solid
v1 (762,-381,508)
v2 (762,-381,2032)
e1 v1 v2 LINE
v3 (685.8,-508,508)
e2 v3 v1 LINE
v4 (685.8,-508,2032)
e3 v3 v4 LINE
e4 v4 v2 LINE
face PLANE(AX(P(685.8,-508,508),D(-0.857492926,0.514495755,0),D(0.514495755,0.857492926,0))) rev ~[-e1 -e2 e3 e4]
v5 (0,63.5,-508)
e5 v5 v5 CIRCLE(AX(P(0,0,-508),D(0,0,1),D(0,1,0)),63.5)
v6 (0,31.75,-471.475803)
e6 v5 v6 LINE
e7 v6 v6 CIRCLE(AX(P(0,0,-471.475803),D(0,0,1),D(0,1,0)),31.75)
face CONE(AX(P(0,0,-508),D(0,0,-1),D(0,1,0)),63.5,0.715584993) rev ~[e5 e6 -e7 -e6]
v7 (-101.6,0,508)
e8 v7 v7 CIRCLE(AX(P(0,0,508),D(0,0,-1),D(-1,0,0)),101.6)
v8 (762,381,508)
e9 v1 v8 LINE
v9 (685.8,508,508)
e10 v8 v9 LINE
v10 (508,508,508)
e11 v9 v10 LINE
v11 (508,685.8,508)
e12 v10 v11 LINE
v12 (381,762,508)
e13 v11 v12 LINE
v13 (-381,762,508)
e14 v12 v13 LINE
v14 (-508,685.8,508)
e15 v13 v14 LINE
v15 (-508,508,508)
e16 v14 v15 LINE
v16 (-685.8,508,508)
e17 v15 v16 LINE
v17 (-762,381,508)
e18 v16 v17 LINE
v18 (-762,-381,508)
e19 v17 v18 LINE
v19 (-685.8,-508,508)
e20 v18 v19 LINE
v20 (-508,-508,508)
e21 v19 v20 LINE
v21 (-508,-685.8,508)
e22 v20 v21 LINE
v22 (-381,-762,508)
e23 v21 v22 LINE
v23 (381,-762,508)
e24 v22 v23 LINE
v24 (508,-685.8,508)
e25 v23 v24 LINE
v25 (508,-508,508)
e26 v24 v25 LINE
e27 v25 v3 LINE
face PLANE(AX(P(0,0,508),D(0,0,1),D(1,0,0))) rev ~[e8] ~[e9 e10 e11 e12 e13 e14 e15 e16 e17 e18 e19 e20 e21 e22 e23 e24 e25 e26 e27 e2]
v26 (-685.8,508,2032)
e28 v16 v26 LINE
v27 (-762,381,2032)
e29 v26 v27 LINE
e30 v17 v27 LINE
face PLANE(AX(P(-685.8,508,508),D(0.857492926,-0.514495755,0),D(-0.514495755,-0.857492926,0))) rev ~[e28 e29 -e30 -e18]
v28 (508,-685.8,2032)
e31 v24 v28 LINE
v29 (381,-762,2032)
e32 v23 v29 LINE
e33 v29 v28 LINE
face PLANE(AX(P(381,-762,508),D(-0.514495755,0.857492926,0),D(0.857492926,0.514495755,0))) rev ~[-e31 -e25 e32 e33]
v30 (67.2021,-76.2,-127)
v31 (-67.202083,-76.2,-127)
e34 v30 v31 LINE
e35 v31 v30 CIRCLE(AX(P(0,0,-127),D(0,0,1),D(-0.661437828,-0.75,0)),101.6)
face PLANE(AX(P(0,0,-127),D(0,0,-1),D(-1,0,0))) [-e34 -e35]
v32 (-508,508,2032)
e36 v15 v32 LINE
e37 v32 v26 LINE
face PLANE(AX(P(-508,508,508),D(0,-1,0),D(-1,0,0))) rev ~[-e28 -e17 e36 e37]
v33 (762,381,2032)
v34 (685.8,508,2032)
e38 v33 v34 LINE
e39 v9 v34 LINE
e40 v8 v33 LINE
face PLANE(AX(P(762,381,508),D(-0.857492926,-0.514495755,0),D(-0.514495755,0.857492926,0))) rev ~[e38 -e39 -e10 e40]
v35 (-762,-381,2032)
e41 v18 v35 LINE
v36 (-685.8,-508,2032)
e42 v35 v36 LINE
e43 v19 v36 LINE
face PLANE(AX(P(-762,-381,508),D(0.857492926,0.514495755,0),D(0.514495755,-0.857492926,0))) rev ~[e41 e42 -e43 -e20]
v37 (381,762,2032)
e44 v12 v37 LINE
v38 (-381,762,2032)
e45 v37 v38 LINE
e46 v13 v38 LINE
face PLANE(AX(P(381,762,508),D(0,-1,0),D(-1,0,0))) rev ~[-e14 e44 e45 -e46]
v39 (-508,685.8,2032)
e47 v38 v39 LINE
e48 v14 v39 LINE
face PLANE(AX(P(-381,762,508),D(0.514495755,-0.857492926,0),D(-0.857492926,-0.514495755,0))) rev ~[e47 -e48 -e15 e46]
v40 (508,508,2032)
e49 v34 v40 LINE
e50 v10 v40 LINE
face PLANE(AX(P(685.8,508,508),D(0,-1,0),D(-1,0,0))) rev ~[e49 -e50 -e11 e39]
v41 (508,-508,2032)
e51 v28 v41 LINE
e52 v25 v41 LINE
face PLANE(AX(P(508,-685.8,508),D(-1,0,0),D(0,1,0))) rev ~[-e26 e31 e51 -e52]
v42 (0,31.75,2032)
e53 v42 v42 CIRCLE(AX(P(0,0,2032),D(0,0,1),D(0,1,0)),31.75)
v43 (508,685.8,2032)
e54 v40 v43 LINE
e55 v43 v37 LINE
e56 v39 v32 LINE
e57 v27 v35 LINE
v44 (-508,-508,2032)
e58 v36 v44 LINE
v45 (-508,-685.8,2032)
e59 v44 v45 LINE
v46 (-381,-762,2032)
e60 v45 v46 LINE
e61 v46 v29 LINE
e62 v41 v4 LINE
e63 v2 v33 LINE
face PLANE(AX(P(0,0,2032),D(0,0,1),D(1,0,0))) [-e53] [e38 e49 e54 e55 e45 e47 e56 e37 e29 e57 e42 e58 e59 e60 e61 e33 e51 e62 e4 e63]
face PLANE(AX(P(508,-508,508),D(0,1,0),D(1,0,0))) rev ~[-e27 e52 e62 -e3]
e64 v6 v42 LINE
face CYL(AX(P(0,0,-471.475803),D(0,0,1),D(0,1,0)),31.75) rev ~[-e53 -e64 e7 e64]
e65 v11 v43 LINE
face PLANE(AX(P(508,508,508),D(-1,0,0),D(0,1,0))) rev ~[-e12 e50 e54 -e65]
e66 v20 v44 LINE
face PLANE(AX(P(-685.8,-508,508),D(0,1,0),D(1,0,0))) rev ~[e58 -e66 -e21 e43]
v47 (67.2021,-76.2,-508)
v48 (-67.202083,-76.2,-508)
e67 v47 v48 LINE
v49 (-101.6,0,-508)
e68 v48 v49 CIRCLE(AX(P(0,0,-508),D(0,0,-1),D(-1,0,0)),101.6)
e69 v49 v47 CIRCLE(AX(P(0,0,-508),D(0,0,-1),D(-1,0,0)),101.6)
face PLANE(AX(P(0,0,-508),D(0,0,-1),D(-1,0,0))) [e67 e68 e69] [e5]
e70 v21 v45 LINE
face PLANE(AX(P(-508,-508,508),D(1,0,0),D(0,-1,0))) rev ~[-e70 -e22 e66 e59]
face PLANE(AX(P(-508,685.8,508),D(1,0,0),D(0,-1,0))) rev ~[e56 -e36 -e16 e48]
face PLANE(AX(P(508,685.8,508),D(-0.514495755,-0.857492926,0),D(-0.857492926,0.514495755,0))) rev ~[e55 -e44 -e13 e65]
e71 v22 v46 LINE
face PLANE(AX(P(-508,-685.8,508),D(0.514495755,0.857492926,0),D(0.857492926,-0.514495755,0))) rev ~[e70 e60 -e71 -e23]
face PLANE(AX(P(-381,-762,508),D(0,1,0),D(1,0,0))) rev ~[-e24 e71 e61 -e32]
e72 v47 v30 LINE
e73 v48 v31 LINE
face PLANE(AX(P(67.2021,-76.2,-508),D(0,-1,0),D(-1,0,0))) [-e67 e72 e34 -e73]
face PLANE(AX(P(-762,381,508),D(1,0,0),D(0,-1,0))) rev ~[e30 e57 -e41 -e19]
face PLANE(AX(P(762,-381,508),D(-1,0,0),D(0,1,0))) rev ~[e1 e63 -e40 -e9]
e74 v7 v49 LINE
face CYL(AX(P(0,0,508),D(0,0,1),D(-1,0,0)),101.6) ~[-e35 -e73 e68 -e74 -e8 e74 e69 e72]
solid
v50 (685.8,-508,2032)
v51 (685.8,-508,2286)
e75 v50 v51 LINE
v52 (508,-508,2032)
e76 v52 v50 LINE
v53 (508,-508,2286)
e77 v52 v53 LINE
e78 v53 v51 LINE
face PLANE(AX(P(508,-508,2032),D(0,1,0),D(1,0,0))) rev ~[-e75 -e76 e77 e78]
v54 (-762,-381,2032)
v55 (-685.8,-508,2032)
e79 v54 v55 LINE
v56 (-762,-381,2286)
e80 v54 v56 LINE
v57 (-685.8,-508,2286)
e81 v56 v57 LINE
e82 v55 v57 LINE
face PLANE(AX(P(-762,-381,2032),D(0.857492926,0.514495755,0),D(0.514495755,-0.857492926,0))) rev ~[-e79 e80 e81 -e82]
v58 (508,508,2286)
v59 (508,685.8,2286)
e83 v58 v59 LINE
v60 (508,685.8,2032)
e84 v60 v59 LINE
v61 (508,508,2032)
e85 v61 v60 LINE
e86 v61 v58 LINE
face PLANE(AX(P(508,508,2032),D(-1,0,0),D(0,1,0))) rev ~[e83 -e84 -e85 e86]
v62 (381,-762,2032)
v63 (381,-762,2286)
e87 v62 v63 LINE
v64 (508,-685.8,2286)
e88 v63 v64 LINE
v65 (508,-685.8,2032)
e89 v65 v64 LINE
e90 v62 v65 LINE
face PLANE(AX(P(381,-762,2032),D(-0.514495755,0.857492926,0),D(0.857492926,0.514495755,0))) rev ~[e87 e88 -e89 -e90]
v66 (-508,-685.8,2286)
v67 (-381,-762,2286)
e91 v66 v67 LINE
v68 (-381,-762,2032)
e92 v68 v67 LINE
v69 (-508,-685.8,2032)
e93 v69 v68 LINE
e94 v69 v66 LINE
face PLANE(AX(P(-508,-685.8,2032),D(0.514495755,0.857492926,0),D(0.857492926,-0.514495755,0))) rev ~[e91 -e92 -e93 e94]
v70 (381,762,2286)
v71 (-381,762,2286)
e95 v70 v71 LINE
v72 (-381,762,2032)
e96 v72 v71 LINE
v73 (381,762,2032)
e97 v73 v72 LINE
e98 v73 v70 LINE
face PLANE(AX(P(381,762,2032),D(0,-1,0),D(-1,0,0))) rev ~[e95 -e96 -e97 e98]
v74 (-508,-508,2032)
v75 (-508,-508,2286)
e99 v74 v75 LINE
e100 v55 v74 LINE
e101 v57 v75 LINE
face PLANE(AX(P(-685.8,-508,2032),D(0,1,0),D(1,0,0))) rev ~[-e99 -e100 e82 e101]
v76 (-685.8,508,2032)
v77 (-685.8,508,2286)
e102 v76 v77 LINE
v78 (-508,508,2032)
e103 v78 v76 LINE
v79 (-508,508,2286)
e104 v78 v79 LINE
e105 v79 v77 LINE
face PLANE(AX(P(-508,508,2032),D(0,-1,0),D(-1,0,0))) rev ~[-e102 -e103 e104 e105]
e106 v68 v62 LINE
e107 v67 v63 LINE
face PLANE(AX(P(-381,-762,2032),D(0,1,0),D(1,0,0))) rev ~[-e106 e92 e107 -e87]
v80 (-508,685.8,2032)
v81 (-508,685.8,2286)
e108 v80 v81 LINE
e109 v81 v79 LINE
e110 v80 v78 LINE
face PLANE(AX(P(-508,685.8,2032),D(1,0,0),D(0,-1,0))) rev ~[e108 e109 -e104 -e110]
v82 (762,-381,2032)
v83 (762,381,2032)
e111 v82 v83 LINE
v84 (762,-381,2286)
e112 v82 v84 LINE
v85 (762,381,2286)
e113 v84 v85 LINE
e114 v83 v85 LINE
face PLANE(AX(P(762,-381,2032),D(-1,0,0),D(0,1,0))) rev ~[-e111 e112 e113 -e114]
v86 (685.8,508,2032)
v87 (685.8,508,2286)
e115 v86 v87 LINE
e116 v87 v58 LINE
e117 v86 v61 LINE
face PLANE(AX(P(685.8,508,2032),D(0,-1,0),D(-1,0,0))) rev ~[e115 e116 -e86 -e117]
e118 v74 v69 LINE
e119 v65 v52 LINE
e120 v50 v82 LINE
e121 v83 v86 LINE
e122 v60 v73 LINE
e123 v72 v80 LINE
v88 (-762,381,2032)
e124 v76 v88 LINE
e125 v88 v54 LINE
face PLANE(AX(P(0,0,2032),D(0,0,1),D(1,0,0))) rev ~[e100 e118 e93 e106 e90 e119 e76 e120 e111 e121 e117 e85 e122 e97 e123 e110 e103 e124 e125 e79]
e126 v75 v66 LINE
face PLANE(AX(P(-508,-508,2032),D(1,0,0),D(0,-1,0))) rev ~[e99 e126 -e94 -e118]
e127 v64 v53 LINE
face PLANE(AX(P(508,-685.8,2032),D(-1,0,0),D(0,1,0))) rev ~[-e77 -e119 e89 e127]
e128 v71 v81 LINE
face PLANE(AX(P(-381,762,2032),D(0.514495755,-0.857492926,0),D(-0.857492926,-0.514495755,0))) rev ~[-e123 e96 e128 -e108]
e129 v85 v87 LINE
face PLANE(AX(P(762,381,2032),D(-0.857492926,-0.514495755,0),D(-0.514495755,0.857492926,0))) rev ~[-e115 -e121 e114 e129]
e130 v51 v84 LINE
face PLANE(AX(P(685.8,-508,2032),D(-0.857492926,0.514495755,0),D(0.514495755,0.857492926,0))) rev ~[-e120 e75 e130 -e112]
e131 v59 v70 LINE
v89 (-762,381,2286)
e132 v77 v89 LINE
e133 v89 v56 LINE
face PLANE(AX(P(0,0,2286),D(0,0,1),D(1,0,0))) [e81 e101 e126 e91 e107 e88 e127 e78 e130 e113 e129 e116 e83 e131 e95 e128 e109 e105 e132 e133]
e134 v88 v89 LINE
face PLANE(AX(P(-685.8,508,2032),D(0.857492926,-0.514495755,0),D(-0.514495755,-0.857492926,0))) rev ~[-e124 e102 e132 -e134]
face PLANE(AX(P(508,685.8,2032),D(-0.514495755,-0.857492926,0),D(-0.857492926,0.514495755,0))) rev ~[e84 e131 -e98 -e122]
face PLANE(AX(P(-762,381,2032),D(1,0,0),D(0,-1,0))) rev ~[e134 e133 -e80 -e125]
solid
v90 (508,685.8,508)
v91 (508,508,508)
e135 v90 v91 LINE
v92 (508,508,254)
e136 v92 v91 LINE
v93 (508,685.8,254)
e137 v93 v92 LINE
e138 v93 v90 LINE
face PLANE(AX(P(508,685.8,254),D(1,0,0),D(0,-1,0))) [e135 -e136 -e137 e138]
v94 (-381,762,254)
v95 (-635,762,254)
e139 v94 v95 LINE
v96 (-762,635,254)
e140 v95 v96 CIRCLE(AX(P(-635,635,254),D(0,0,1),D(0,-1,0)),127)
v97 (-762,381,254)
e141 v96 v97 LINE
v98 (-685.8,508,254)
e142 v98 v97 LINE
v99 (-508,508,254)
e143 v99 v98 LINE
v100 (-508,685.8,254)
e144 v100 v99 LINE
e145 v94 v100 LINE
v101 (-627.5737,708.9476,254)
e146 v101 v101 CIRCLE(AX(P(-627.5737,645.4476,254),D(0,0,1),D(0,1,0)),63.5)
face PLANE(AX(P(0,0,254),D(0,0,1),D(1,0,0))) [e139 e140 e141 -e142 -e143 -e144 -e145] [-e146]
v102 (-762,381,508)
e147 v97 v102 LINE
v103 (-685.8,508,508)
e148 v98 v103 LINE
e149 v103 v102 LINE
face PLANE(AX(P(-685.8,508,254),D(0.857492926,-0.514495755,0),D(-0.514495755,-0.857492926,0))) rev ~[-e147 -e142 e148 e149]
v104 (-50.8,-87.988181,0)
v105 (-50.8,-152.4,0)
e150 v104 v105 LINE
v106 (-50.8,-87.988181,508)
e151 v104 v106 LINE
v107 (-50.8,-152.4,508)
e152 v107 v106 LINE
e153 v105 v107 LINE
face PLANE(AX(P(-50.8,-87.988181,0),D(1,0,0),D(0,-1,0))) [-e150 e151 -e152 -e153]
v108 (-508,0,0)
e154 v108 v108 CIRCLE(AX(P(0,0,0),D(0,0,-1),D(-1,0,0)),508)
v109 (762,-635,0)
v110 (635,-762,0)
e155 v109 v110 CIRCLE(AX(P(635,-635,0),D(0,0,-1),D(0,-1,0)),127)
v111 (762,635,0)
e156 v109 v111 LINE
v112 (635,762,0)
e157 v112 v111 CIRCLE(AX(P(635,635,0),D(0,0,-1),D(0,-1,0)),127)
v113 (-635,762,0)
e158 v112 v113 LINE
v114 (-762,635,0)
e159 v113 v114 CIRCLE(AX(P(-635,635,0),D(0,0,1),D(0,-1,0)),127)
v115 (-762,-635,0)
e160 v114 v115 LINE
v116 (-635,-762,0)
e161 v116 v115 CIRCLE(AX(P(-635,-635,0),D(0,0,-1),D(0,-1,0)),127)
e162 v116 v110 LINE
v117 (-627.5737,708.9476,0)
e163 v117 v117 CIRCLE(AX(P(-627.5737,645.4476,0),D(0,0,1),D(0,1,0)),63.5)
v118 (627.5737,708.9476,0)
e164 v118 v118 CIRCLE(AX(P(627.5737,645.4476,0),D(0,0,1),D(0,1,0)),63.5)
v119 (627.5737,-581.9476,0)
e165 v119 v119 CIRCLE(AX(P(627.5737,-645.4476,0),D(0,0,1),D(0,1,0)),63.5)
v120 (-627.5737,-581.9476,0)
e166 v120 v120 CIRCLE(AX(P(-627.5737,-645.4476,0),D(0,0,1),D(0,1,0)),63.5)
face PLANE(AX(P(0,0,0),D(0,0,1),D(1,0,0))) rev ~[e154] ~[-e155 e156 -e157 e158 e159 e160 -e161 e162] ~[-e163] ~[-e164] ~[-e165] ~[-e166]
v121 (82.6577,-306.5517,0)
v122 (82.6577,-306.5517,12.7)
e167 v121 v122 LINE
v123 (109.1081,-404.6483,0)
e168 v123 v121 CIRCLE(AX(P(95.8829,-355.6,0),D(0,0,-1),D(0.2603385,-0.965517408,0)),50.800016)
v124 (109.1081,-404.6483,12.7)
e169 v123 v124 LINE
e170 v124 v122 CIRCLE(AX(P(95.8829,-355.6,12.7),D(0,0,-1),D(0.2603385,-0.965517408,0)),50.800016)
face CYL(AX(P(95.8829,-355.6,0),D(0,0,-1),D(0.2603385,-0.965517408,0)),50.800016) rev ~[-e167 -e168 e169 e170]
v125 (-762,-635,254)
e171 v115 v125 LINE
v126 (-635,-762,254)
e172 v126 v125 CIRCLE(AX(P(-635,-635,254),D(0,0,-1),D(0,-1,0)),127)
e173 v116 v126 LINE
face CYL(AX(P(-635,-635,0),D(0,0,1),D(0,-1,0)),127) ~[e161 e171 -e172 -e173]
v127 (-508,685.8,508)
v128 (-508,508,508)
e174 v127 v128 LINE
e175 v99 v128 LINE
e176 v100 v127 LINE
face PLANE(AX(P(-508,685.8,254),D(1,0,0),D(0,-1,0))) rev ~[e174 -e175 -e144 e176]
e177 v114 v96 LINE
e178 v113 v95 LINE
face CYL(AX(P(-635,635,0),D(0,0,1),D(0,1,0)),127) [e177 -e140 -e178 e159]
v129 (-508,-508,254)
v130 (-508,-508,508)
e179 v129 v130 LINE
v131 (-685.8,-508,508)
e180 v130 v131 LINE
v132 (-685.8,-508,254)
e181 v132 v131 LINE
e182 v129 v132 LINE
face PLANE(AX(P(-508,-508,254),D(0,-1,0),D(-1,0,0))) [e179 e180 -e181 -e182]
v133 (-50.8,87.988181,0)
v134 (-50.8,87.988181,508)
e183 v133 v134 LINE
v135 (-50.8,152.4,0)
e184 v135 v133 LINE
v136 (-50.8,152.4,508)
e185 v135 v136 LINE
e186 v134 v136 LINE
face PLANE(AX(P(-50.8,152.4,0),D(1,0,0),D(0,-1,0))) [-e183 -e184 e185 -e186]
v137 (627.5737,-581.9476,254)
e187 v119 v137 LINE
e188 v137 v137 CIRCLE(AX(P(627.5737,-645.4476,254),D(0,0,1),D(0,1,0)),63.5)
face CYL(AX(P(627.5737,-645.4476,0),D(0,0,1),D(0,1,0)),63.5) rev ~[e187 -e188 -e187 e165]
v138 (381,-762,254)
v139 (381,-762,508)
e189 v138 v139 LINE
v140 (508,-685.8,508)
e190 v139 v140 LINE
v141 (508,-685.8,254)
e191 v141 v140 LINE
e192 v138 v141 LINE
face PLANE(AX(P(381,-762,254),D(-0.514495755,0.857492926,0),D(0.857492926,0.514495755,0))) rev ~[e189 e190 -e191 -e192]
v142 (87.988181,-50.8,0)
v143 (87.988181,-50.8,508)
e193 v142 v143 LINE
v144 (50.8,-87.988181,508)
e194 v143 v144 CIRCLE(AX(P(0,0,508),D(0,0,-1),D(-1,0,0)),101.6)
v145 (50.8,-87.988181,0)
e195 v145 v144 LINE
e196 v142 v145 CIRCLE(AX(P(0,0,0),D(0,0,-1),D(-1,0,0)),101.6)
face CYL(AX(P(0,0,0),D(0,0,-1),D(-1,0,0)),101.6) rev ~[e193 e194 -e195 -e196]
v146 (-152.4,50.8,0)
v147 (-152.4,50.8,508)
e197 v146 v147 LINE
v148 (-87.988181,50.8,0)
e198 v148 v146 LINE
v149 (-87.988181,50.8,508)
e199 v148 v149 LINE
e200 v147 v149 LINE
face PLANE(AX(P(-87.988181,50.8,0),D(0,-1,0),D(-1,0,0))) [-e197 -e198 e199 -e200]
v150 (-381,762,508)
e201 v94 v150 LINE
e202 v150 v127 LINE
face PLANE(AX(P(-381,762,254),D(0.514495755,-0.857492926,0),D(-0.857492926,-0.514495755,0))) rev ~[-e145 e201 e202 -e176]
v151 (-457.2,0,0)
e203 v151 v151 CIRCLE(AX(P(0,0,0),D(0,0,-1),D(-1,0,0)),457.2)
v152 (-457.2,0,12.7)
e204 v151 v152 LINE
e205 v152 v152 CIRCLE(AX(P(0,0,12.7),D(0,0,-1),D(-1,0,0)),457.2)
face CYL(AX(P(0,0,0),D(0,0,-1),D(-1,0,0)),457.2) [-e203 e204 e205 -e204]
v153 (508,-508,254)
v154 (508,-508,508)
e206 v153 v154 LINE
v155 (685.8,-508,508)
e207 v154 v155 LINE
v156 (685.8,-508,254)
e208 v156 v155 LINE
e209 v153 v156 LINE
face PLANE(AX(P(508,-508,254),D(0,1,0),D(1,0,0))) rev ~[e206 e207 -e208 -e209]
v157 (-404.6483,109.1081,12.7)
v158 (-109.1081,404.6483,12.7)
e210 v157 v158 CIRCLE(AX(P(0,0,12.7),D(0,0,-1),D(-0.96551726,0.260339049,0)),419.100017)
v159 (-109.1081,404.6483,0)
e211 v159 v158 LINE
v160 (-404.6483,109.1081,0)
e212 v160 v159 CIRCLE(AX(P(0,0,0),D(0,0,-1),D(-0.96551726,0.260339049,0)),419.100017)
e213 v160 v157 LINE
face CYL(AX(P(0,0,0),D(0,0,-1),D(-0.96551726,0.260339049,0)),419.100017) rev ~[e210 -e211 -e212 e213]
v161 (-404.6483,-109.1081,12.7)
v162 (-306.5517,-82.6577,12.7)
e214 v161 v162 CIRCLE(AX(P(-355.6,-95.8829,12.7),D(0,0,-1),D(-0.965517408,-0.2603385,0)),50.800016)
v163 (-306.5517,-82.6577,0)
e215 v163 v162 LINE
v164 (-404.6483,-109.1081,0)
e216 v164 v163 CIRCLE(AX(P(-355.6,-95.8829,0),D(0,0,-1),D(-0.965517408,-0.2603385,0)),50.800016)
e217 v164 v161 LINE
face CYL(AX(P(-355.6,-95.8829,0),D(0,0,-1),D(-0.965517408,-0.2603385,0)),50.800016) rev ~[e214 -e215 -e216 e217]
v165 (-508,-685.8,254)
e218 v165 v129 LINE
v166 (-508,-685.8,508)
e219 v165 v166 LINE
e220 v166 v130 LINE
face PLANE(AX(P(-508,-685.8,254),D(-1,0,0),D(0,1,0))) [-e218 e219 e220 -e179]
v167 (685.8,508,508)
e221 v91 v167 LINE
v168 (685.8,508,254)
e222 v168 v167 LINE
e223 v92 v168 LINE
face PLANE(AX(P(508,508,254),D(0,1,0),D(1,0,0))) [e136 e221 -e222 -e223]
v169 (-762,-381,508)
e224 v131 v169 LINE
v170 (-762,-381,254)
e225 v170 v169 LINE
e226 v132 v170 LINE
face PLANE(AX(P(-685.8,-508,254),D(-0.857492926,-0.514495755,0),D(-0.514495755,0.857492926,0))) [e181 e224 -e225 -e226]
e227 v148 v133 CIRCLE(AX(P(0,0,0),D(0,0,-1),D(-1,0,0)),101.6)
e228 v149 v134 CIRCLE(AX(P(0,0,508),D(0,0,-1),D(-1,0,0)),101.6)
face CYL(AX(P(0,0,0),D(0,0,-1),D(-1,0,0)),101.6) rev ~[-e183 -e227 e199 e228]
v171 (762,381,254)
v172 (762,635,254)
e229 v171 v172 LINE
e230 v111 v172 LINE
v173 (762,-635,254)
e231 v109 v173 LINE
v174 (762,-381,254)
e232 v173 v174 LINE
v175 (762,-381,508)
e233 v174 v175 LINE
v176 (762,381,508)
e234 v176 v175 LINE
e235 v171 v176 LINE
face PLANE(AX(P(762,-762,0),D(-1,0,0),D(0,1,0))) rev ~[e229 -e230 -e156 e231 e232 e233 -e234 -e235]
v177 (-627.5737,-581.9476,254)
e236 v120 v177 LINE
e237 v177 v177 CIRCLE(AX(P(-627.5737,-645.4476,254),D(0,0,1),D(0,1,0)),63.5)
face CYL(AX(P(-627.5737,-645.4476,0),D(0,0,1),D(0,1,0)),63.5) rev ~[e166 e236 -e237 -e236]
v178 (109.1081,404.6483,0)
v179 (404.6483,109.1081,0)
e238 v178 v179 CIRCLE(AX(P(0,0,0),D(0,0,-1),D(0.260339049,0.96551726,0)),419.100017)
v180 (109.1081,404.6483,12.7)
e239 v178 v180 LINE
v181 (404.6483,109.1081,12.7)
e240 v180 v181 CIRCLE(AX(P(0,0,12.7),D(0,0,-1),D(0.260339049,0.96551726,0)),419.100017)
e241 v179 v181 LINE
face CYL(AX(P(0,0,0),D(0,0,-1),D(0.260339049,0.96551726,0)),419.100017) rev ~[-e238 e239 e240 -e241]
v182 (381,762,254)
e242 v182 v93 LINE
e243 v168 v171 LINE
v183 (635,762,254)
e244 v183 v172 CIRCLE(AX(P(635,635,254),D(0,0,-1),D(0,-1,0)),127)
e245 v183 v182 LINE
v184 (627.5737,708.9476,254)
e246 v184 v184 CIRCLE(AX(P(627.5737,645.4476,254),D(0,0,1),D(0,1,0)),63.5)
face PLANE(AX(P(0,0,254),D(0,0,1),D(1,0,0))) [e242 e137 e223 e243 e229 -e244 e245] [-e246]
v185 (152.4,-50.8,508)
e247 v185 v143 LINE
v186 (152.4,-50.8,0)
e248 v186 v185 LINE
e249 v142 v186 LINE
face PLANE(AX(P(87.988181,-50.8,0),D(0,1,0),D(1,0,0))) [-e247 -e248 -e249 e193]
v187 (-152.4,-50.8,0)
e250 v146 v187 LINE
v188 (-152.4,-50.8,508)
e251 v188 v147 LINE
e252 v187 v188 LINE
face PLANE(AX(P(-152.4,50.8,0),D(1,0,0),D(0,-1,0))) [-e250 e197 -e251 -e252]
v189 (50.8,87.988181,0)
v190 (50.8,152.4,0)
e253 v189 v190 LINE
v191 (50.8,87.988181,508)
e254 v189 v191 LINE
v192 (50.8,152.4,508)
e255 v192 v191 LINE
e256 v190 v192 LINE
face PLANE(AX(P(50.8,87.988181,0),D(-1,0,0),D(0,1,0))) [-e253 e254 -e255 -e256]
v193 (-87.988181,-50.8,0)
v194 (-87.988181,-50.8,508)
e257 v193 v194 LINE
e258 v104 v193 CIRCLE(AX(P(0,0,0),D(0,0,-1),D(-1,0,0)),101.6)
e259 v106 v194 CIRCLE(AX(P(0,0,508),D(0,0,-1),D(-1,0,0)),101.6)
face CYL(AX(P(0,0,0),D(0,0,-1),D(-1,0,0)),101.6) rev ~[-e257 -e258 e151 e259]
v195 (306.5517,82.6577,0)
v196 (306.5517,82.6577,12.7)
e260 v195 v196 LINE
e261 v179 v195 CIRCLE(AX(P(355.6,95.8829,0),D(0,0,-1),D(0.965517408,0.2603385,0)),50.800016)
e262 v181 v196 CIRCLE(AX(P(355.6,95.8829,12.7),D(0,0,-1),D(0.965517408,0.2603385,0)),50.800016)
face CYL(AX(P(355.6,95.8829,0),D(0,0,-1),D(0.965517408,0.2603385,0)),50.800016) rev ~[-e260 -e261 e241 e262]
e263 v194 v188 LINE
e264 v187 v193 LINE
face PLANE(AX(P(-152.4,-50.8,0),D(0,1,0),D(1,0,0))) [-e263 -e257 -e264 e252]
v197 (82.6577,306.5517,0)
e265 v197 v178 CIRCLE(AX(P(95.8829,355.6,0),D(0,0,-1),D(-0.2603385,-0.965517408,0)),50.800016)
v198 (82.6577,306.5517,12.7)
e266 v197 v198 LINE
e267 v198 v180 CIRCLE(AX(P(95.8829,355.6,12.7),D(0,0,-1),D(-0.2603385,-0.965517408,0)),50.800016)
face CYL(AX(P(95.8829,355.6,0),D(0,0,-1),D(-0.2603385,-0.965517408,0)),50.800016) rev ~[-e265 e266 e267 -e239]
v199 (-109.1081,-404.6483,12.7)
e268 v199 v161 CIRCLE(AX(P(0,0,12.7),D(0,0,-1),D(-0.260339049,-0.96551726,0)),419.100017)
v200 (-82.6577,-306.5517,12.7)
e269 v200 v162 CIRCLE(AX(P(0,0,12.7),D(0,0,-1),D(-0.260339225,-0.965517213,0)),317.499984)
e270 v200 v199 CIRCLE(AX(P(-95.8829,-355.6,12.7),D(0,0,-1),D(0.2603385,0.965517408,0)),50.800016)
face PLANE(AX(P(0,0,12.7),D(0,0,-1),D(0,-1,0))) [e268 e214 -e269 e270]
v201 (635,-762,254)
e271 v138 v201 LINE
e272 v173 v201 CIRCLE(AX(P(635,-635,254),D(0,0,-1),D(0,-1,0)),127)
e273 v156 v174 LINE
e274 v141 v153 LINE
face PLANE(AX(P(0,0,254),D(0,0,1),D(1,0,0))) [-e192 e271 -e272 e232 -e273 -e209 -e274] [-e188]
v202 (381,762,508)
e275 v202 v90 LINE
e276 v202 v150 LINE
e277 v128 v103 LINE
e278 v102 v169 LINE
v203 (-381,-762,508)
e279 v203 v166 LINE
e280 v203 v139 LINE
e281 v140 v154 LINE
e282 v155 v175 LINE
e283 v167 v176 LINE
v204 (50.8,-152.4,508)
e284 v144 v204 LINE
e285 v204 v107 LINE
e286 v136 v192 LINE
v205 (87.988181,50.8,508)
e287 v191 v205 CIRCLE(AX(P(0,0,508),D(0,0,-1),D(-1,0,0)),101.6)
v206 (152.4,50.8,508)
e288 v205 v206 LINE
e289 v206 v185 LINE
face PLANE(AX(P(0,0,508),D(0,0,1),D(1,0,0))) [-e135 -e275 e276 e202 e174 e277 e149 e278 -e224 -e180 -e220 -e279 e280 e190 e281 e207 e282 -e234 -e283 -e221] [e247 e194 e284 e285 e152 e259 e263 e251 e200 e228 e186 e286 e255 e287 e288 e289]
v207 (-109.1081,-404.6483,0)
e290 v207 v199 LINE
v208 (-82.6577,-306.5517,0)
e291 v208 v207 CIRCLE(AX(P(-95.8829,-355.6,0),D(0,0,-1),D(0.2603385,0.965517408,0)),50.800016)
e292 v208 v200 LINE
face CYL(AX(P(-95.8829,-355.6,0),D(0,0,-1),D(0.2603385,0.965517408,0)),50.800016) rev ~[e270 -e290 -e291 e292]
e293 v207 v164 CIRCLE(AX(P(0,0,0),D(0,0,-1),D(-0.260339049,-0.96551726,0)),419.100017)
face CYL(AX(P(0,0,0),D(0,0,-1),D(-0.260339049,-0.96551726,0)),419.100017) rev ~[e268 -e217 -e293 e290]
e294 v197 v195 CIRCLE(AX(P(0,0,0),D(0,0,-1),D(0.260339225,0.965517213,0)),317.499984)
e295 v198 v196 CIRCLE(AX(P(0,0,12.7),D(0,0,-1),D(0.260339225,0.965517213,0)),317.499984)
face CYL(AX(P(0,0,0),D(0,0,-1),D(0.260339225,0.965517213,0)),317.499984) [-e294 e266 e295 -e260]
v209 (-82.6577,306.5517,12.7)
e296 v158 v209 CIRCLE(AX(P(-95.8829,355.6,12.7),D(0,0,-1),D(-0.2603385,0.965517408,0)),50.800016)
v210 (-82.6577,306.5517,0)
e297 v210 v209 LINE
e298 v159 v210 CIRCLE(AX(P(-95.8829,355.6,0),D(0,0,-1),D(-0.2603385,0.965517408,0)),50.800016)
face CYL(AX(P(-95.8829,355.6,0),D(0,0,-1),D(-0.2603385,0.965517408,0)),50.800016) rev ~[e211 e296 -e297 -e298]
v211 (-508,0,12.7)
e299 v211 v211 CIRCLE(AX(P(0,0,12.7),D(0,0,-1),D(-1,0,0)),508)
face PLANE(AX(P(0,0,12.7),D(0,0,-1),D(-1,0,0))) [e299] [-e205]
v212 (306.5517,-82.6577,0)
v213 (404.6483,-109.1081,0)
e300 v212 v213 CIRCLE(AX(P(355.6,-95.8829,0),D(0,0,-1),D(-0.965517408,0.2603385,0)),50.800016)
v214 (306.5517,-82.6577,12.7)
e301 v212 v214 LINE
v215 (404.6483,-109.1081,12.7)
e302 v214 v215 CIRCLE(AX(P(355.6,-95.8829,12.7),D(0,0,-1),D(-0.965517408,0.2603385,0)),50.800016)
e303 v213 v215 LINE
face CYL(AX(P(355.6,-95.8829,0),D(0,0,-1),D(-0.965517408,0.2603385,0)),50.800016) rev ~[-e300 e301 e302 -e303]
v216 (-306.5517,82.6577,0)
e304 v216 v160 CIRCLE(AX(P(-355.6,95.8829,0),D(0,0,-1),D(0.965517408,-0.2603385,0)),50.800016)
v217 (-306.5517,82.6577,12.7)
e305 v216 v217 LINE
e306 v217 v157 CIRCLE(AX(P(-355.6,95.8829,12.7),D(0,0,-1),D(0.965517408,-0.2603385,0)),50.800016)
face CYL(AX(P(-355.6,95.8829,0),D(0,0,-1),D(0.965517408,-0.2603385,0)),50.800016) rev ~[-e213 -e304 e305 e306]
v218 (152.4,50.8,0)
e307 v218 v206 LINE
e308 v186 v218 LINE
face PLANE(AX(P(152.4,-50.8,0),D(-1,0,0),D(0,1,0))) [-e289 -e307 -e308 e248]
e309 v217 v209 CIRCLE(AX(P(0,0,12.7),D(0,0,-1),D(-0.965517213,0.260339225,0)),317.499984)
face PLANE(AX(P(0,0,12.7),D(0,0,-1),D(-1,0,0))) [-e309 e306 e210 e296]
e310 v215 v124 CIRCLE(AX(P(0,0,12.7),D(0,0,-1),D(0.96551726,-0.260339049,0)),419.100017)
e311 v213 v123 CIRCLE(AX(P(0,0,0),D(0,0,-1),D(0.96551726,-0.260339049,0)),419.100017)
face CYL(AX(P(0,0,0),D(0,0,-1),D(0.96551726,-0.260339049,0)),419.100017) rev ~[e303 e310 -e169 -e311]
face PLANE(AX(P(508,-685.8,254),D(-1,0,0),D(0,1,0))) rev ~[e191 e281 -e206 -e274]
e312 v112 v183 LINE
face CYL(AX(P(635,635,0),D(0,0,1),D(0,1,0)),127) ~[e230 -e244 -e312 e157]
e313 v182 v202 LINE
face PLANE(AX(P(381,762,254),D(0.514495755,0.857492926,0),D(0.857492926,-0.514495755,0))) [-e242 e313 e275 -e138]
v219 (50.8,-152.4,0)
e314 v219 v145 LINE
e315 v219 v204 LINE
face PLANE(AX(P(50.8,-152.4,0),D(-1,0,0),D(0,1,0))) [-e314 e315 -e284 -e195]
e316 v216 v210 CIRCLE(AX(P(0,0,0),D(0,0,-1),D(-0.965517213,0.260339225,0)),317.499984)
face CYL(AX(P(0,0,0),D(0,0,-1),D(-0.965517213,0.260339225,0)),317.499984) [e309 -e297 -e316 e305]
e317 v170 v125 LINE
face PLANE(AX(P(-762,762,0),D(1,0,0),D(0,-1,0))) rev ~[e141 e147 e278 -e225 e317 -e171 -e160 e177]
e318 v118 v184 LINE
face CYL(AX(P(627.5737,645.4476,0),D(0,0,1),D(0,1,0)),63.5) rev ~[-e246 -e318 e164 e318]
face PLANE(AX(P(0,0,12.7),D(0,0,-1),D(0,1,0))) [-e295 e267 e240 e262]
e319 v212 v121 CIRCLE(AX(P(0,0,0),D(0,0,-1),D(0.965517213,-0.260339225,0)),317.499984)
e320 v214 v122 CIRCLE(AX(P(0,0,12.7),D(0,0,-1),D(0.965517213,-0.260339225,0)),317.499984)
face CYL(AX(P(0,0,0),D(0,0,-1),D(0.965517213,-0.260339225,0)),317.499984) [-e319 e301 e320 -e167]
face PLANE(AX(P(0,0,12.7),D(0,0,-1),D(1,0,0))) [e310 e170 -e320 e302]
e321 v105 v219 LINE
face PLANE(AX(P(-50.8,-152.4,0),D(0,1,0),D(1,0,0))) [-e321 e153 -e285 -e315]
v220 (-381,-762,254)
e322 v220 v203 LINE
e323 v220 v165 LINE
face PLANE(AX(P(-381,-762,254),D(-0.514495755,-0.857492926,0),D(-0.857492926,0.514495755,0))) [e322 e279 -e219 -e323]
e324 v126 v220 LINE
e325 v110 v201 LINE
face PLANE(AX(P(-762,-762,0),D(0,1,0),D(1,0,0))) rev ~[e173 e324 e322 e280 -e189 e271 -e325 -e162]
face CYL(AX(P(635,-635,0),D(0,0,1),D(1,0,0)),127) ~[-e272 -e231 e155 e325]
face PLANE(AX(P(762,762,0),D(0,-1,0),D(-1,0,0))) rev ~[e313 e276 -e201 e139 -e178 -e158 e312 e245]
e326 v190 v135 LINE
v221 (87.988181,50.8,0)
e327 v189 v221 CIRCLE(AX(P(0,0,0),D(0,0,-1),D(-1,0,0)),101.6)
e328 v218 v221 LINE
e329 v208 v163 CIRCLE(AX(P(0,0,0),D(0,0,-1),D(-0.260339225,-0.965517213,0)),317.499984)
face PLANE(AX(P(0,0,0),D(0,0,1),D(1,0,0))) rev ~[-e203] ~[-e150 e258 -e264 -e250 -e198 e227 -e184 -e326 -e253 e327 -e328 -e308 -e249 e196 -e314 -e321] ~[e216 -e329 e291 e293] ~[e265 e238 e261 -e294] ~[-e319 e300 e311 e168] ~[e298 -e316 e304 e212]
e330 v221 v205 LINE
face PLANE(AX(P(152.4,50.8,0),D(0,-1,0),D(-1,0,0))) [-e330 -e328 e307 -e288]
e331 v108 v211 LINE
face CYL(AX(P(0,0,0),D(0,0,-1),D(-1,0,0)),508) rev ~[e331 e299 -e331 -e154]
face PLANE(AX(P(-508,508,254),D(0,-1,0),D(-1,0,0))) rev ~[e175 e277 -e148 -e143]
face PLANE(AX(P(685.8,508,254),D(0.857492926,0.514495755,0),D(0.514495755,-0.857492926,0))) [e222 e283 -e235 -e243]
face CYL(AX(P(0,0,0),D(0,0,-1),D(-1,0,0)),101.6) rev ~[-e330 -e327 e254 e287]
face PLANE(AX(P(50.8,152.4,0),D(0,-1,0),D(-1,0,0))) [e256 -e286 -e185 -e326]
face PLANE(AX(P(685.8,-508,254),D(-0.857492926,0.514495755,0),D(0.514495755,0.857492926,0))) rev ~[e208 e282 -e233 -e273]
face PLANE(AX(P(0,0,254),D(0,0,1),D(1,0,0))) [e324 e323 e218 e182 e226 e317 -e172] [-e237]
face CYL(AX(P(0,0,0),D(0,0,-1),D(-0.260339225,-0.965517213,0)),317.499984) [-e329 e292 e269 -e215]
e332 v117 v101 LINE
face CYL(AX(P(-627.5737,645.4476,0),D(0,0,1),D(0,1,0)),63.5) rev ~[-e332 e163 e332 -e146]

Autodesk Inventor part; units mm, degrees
ref_plane "YZ Plane" through (0, 0, 0) normal (1, 0, 0) x (0, 1, 0)
ref_plane "XZ Plane" through (0, 0, 0) normal (0, 1, 0) x (-1, 0, 0)
ref_plane "XY Plane" through (0, 0, 0) normal (0, 0, 1) x (1, 0, 0)
sketch "Sketch1" plane through (0, 0, 0) normal (0, 0, 1) x (1, 0, 0)
  line L0 (-762, -762) -> (762, -762)
  line L1 (762, -762) -> (762, 762)
  line L2 (762, 762) -> (-762, 762)
  line L3 (-762, 762) -> (-762, -762)
  line L4 (-762, -762) -> (762, 762) construction
  line L5 (762, -762) -> (-762, 762) construction
  point P0 (0, 0)
  dimension "d0" = 1524
  dimension "d1" = 1524
extrude "Extrusion1" add sketch "Sketch1" along normal blind 254
sketch "Sketch2" plane through (0, 0, 254) normal (0, 0, 1) x (1, 0, 0)
  line L0 (762, -762) -> (762, 762) projected
  line L1 (762, 762) -> (-762, 762) projected
  line L2 (-762, 762) -> (-762, -762) projected
  line L3 (-762, -762) -> (762, -762) projected
  line L4 (762, 762) -> (-762, 762) projected
  line L5 (0, 762) -> (-381, 762)
  line L6 (-381, 762) -> (-508, 685.8)
  line L7 (-508, 685.8) -> (-508, 508)
  line L8 (-508, 508) -> (-685.8, 508)
  line L9 (-685.8, 508) -> (-762, 381)
  line L10 (-762, 762) -> (-762, -762) projected
  line L11 (0, 0) -> (-762, 0)
  line L12 (0, 762) -> (0, 0)
  line L13 (381, 762) -> (508, 685.8)
  line L14 (508, 685.8) -> (508, 508)
  line L15 (508, 508) -> (685.8, 508)
  line L16 (685.8, 508) -> (762, 381)
  line L17 (0, 0) -> (762, 0)
  line L18 (0, -762) -> (-381, -762)
  line L19 (-381, -762) -> (-508, -685.8)
  line L20 (-508, -685.8) -> (-508, -508)
  line L21 (-508, -508) -> (-685.8, -508)
  line L22 (-685.8, -508) -> (-762, -381)
  line L23 (381, -762) -> (508, -685.8)
  line L24 (508, -685.8) -> (508, -508)
  line L25 (508, -508) -> (685.8, -508)
  line L26 (685.8, -508) -> (762, -381)
  dimension "d4" = 381
  dimension "d5" = 76.2
  dimension "d6" = 127
  dimension "d7" = 254
  dimension "d8" = 127
  dimension "d9" = 76.2
extrude "Extrusion2" add sketch "Sketch2" along normal blind 254 contours L26 L25 L24 L23 L3 L19 L20 L21 L22 L2 L11 L17 L0 | L17 L12 L1 L13 L14 L15 L16 L0 | L11 L2 L9 L8 L7 L6 L1 L12
sketch "Sketch3" plane through (0, 0, 508) normal (0, 0, 1) x (1, 0, 0)
  line L0 (-508, -508) -> (-508, -685.8) projected
  line L1 (-508, -685.8) -> (-381, -762) projected
  line L2 (-381, -762) -> (381, -762) projected
  line L3 (381, -762) -> (508, -685.8) projected
  line L4 (508, -685.8) -> (508, -508) projected
  line L5 (508, -508) -> (685.8, -508) projected
  line L6 (685.8, -508) -> (762, -381) projected
  line L7 (762, -381) -> (762, 381) projected
  line L8 (762, 381) -> (685.8, 508) projected
  line L9 (685.8, 508) -> (508, 508) projected
  line L10 (508, 508) -> (508, 685.8) projected
  line L11 (508, 685.8) -> (381, 762) projected
  line L12 (381, 762) -> (-381, 762) projected
  line L13 (-381, 762) -> (-508, 685.8) projected
  line L14 (-508, 685.8) -> (-508, 508) projected
  line L15 (-508, 508) -> (-685.8, 508) projected
  line L16 (-685.8, 508) -> (-762, 381) projected
  line L17 (-762, 381) -> (-762, -381) projected
  line L18 (-762, -381) -> (-685.8, -508) projected
  line L19 (-685.8, -508) -> (-508, -508) projected
  point P0 (0, 0)
extrude "Extrusion3" add sketch "Sketch3" along normal blind 1524 separate body
sketch "Sketch4" plane through (0, 0, 2032) normal (0, 0, 1) x (1, 0, 0)
  line L0 (-508, -685.8) -> (-381, -762) projected
  line L1 (-381, -762) -> (381, -762) projected
  line L2 (381, -762) -> (508, -685.8) projected
  line L3 (508, -685.8) -> (508, -508) projected
  line L4 (508, -508) -> (685.8, -508) projected
  line L5 (685.8, -508) -> (762, -381) projected
  line L6 (762, -381) -> (762, 381) projected
  line L7 (762, 381) -> (685.8, 508) projected
  line L8 (685.8, 508) -> (508, 508) projected
  line L9 (508, 508) -> (508, 685.8) projected
  line L10 (508, 685.8) -> (381, 762) projected
  line L11 (381, 762) -> (-381, 762) projected
  line L12 (-381, 762) -> (-508, 685.8) projected
  line L13 (-508, 685.8) -> (-508, 508) projected
  line L14 (-508, 508) -> (-685.8, 508) projected
  line L15 (-685.8, 508) -> (-762, 381) projected
  line L16 (-762, 381) -> (-762, -381) projected
  line L17 (-762, -381) -> (-685.8, -508) projected
  line L18 (-685.8, -508) -> (-508, -508) projected
  line L19 (-508, -508) -> (-508, -685.8) projected
  point P0 (0, 0)
extrude "Extrusion4" add sketch "Sketch4" along normal blind 254 separate body
fillet "Fillet1" radius 127 1 edges at (762, 762, 127)
fillet "Fillet2" radius 127 1 edges at (-762, 762, 127)
fillet "Fillet3" radius 127 1 edges at (762, -762, 127)
fillet "Fillet4" radius 127 1 edges at (-762, -762, 127)
sketch "Sketch5" plane through (0, 0, 0) normal (0, 0, -1) x (-1, 0, 0)
  line L0 (627.5737, -645.4476) -> (-627.5737, -645.4476) construction
  line L1 (-627.5737, -645.4476) -> (-627.5737, 645.4476) construction
  line L2 (-627.5737, 645.4476) -> (627.5737, 645.4476) construction
  line L3 (627.5737, 645.4476) -> (627.5737, -645.4476) construction
  line L4 (627.5737, -645.4476) -> (-627.5737, 645.4476) construction
  line L5 (-627.5737, -645.4476) -> (627.5737, 645.4476) construction
  point P0 (0, 0)
hole "Hole1" at (-627.5737, 645.4476, 0) at (627.5737, 645.4476, 0) at (627.5737, -645.4476, 0) at (-627.5737, -645.4476, 0) direction (0, 0, 1) diameter 127 end through all bodies 1
sketch "Sketch6" plane through (0, 0, 0) normal (0, 0, -1) x (-1, 0, 0)
  circle A0 centre (0, 0) radius 508
  circle A1 centre (0, 0) radius 457.2
  dimension "d27" = 1016
  dimension "d28" = 914.4
extrude "Extrusion5" cut sketch "Sketch6" against normal blind 12.7 bodies 1
sketch "Sketch7" plane through (0, 0, 0) normal (0, 0, -1) x (-1, 0, 0)
  circle A0 centre (0, 0) radius 101.6
  line L0 (-50.8, 152.4) -> (50.8, 152.4)
  line L1 (50.8, 152.4) -> (50.8, -152.4)
  line L2 (50.8, -152.4) -> (-50.8, -152.4)
  line L3 (-50.8, -152.4) -> (-50.8, 152.4)
  line L4 (-50.8, 152.4) -> (50.8, -152.4) construction
  line L5 (50.8, 152.4) -> (-50.8, -152.4) construction
  line L6 (152.4, -50.8) -> (-152.4, -50.8)
  line L7 (-152.4, -50.8) -> (-152.4, 50.8)
  line L8 (-152.4, 50.8) -> (152.4, 50.8)
  line L9 (152.4, 50.8) -> (152.4, -50.8)
  line L10 (152.4, -50.8) -> (-152.4, 50.8) construction
  line L11 (-152.4, -50.8) -> (152.4, 50.8) construction
  point P0 (-50.8, 87.9882)
  point P1 (-87.9882, 50.8)
  point P2 (-87.9882, -50.8)
  point P3 (-50.8, -87.9882)
  point P4 (50.8, -87.9882)
  point P5 (87.9882, -50.8)
  point P6 (87.9882, 50.8)
  point P7 (50.8, 87.9882)
  dimension "d31" = 203.2
  dimension "d32" = 101.6
  dimension "d33" = 304.8
  dimension "d34" = 304.8
  dimension "d35" = 101.6
extrude "Extrusion6" cut sketch "Sketch7" against normal through all bodies 1
sketch "Sketch8" plane through (0, 0, 508) normal (0, 0, -1) x (-1, 0, 0)
  circle A0 centre (0, 0) radius 101.6
  dimension "d38" = 203.2
extrude "Extrusion7" add sketch "Sketch8" along normal blind 1016 bodies 2
sketch "Sketch9" plane through (0, 0, -508) normal (0, 0, -1) x (-1, 0, 0)
  arc A0 (-87.9882, -50.8) -> (-50.8, -87.9882) centre (0, 0) ccw projected
  line L0 (-67.2021, -76.2) -> (74.5023, -76.2)
  circle A1 centre (0, 0) radius 101.6 projected
  point P0 (-50.8, -87.9882)
  point P1 (67.2021, -76.2)
  dimension "d41" = 76.2
extrude "Extrusion8" cut sketch "Sketch9" against normal blind 381 contours L0 A1 A0 picked at (-7.2553, -86.1155) bodies 2
sketch "Sketch10" plane through (0, 0, -508) normal (0, 0, -1) x (-1, 0, 0)
  point P0 (0, 0)
  point P1 (0, 0)
hole "Hole2" at (0, 0, -508) direction (0, 0, 1) diameter 63.5 end through all countersink diameter 127 countersink angle 82 bodies 2
sketch "Sketch11" plane through (0, 0, 0) normal (0, 0, -1) x (-1, 0, 0)
  circle A0 centre (0, 0) radius 31.75 projected
  arc A1 (355.6, 95.8829) -> (95.8829, 355.6) centre (0, 0) ccw construction
  arc A2 (404.6483, 109.1081) -> (109.1081, 404.6483) centre (0, 0) ccw
  arc A3 (306.5517, 82.6577) -> (82.6577, 306.5517) centre (0, 0) ccw
  arc A4 (306.5517, 82.6577) -> (404.6483, 109.1081) centre (355.6, 95.8829) ccw
  arc A5 (109.1081, 404.6483) -> (82.6577, 306.5517) centre (95.8829, 355.6) ccw
  dimension "d51" = 368.3
  dimension "d52" = 50.8
  dimension "d53" = 355.6
  dimension "d54" = 355.6
extrude "Extrusion9" cut sketch "Sketch11" against normal blind 12.7 contours A4 A3 A5 A2 bodies 1
pattern_circular "Circular Pattern1" count 4 over 360 about axis through (0, 0, 0) along (0, 0, 1) of "Extrusion9" bodies 1
properties part number "servo motor"
